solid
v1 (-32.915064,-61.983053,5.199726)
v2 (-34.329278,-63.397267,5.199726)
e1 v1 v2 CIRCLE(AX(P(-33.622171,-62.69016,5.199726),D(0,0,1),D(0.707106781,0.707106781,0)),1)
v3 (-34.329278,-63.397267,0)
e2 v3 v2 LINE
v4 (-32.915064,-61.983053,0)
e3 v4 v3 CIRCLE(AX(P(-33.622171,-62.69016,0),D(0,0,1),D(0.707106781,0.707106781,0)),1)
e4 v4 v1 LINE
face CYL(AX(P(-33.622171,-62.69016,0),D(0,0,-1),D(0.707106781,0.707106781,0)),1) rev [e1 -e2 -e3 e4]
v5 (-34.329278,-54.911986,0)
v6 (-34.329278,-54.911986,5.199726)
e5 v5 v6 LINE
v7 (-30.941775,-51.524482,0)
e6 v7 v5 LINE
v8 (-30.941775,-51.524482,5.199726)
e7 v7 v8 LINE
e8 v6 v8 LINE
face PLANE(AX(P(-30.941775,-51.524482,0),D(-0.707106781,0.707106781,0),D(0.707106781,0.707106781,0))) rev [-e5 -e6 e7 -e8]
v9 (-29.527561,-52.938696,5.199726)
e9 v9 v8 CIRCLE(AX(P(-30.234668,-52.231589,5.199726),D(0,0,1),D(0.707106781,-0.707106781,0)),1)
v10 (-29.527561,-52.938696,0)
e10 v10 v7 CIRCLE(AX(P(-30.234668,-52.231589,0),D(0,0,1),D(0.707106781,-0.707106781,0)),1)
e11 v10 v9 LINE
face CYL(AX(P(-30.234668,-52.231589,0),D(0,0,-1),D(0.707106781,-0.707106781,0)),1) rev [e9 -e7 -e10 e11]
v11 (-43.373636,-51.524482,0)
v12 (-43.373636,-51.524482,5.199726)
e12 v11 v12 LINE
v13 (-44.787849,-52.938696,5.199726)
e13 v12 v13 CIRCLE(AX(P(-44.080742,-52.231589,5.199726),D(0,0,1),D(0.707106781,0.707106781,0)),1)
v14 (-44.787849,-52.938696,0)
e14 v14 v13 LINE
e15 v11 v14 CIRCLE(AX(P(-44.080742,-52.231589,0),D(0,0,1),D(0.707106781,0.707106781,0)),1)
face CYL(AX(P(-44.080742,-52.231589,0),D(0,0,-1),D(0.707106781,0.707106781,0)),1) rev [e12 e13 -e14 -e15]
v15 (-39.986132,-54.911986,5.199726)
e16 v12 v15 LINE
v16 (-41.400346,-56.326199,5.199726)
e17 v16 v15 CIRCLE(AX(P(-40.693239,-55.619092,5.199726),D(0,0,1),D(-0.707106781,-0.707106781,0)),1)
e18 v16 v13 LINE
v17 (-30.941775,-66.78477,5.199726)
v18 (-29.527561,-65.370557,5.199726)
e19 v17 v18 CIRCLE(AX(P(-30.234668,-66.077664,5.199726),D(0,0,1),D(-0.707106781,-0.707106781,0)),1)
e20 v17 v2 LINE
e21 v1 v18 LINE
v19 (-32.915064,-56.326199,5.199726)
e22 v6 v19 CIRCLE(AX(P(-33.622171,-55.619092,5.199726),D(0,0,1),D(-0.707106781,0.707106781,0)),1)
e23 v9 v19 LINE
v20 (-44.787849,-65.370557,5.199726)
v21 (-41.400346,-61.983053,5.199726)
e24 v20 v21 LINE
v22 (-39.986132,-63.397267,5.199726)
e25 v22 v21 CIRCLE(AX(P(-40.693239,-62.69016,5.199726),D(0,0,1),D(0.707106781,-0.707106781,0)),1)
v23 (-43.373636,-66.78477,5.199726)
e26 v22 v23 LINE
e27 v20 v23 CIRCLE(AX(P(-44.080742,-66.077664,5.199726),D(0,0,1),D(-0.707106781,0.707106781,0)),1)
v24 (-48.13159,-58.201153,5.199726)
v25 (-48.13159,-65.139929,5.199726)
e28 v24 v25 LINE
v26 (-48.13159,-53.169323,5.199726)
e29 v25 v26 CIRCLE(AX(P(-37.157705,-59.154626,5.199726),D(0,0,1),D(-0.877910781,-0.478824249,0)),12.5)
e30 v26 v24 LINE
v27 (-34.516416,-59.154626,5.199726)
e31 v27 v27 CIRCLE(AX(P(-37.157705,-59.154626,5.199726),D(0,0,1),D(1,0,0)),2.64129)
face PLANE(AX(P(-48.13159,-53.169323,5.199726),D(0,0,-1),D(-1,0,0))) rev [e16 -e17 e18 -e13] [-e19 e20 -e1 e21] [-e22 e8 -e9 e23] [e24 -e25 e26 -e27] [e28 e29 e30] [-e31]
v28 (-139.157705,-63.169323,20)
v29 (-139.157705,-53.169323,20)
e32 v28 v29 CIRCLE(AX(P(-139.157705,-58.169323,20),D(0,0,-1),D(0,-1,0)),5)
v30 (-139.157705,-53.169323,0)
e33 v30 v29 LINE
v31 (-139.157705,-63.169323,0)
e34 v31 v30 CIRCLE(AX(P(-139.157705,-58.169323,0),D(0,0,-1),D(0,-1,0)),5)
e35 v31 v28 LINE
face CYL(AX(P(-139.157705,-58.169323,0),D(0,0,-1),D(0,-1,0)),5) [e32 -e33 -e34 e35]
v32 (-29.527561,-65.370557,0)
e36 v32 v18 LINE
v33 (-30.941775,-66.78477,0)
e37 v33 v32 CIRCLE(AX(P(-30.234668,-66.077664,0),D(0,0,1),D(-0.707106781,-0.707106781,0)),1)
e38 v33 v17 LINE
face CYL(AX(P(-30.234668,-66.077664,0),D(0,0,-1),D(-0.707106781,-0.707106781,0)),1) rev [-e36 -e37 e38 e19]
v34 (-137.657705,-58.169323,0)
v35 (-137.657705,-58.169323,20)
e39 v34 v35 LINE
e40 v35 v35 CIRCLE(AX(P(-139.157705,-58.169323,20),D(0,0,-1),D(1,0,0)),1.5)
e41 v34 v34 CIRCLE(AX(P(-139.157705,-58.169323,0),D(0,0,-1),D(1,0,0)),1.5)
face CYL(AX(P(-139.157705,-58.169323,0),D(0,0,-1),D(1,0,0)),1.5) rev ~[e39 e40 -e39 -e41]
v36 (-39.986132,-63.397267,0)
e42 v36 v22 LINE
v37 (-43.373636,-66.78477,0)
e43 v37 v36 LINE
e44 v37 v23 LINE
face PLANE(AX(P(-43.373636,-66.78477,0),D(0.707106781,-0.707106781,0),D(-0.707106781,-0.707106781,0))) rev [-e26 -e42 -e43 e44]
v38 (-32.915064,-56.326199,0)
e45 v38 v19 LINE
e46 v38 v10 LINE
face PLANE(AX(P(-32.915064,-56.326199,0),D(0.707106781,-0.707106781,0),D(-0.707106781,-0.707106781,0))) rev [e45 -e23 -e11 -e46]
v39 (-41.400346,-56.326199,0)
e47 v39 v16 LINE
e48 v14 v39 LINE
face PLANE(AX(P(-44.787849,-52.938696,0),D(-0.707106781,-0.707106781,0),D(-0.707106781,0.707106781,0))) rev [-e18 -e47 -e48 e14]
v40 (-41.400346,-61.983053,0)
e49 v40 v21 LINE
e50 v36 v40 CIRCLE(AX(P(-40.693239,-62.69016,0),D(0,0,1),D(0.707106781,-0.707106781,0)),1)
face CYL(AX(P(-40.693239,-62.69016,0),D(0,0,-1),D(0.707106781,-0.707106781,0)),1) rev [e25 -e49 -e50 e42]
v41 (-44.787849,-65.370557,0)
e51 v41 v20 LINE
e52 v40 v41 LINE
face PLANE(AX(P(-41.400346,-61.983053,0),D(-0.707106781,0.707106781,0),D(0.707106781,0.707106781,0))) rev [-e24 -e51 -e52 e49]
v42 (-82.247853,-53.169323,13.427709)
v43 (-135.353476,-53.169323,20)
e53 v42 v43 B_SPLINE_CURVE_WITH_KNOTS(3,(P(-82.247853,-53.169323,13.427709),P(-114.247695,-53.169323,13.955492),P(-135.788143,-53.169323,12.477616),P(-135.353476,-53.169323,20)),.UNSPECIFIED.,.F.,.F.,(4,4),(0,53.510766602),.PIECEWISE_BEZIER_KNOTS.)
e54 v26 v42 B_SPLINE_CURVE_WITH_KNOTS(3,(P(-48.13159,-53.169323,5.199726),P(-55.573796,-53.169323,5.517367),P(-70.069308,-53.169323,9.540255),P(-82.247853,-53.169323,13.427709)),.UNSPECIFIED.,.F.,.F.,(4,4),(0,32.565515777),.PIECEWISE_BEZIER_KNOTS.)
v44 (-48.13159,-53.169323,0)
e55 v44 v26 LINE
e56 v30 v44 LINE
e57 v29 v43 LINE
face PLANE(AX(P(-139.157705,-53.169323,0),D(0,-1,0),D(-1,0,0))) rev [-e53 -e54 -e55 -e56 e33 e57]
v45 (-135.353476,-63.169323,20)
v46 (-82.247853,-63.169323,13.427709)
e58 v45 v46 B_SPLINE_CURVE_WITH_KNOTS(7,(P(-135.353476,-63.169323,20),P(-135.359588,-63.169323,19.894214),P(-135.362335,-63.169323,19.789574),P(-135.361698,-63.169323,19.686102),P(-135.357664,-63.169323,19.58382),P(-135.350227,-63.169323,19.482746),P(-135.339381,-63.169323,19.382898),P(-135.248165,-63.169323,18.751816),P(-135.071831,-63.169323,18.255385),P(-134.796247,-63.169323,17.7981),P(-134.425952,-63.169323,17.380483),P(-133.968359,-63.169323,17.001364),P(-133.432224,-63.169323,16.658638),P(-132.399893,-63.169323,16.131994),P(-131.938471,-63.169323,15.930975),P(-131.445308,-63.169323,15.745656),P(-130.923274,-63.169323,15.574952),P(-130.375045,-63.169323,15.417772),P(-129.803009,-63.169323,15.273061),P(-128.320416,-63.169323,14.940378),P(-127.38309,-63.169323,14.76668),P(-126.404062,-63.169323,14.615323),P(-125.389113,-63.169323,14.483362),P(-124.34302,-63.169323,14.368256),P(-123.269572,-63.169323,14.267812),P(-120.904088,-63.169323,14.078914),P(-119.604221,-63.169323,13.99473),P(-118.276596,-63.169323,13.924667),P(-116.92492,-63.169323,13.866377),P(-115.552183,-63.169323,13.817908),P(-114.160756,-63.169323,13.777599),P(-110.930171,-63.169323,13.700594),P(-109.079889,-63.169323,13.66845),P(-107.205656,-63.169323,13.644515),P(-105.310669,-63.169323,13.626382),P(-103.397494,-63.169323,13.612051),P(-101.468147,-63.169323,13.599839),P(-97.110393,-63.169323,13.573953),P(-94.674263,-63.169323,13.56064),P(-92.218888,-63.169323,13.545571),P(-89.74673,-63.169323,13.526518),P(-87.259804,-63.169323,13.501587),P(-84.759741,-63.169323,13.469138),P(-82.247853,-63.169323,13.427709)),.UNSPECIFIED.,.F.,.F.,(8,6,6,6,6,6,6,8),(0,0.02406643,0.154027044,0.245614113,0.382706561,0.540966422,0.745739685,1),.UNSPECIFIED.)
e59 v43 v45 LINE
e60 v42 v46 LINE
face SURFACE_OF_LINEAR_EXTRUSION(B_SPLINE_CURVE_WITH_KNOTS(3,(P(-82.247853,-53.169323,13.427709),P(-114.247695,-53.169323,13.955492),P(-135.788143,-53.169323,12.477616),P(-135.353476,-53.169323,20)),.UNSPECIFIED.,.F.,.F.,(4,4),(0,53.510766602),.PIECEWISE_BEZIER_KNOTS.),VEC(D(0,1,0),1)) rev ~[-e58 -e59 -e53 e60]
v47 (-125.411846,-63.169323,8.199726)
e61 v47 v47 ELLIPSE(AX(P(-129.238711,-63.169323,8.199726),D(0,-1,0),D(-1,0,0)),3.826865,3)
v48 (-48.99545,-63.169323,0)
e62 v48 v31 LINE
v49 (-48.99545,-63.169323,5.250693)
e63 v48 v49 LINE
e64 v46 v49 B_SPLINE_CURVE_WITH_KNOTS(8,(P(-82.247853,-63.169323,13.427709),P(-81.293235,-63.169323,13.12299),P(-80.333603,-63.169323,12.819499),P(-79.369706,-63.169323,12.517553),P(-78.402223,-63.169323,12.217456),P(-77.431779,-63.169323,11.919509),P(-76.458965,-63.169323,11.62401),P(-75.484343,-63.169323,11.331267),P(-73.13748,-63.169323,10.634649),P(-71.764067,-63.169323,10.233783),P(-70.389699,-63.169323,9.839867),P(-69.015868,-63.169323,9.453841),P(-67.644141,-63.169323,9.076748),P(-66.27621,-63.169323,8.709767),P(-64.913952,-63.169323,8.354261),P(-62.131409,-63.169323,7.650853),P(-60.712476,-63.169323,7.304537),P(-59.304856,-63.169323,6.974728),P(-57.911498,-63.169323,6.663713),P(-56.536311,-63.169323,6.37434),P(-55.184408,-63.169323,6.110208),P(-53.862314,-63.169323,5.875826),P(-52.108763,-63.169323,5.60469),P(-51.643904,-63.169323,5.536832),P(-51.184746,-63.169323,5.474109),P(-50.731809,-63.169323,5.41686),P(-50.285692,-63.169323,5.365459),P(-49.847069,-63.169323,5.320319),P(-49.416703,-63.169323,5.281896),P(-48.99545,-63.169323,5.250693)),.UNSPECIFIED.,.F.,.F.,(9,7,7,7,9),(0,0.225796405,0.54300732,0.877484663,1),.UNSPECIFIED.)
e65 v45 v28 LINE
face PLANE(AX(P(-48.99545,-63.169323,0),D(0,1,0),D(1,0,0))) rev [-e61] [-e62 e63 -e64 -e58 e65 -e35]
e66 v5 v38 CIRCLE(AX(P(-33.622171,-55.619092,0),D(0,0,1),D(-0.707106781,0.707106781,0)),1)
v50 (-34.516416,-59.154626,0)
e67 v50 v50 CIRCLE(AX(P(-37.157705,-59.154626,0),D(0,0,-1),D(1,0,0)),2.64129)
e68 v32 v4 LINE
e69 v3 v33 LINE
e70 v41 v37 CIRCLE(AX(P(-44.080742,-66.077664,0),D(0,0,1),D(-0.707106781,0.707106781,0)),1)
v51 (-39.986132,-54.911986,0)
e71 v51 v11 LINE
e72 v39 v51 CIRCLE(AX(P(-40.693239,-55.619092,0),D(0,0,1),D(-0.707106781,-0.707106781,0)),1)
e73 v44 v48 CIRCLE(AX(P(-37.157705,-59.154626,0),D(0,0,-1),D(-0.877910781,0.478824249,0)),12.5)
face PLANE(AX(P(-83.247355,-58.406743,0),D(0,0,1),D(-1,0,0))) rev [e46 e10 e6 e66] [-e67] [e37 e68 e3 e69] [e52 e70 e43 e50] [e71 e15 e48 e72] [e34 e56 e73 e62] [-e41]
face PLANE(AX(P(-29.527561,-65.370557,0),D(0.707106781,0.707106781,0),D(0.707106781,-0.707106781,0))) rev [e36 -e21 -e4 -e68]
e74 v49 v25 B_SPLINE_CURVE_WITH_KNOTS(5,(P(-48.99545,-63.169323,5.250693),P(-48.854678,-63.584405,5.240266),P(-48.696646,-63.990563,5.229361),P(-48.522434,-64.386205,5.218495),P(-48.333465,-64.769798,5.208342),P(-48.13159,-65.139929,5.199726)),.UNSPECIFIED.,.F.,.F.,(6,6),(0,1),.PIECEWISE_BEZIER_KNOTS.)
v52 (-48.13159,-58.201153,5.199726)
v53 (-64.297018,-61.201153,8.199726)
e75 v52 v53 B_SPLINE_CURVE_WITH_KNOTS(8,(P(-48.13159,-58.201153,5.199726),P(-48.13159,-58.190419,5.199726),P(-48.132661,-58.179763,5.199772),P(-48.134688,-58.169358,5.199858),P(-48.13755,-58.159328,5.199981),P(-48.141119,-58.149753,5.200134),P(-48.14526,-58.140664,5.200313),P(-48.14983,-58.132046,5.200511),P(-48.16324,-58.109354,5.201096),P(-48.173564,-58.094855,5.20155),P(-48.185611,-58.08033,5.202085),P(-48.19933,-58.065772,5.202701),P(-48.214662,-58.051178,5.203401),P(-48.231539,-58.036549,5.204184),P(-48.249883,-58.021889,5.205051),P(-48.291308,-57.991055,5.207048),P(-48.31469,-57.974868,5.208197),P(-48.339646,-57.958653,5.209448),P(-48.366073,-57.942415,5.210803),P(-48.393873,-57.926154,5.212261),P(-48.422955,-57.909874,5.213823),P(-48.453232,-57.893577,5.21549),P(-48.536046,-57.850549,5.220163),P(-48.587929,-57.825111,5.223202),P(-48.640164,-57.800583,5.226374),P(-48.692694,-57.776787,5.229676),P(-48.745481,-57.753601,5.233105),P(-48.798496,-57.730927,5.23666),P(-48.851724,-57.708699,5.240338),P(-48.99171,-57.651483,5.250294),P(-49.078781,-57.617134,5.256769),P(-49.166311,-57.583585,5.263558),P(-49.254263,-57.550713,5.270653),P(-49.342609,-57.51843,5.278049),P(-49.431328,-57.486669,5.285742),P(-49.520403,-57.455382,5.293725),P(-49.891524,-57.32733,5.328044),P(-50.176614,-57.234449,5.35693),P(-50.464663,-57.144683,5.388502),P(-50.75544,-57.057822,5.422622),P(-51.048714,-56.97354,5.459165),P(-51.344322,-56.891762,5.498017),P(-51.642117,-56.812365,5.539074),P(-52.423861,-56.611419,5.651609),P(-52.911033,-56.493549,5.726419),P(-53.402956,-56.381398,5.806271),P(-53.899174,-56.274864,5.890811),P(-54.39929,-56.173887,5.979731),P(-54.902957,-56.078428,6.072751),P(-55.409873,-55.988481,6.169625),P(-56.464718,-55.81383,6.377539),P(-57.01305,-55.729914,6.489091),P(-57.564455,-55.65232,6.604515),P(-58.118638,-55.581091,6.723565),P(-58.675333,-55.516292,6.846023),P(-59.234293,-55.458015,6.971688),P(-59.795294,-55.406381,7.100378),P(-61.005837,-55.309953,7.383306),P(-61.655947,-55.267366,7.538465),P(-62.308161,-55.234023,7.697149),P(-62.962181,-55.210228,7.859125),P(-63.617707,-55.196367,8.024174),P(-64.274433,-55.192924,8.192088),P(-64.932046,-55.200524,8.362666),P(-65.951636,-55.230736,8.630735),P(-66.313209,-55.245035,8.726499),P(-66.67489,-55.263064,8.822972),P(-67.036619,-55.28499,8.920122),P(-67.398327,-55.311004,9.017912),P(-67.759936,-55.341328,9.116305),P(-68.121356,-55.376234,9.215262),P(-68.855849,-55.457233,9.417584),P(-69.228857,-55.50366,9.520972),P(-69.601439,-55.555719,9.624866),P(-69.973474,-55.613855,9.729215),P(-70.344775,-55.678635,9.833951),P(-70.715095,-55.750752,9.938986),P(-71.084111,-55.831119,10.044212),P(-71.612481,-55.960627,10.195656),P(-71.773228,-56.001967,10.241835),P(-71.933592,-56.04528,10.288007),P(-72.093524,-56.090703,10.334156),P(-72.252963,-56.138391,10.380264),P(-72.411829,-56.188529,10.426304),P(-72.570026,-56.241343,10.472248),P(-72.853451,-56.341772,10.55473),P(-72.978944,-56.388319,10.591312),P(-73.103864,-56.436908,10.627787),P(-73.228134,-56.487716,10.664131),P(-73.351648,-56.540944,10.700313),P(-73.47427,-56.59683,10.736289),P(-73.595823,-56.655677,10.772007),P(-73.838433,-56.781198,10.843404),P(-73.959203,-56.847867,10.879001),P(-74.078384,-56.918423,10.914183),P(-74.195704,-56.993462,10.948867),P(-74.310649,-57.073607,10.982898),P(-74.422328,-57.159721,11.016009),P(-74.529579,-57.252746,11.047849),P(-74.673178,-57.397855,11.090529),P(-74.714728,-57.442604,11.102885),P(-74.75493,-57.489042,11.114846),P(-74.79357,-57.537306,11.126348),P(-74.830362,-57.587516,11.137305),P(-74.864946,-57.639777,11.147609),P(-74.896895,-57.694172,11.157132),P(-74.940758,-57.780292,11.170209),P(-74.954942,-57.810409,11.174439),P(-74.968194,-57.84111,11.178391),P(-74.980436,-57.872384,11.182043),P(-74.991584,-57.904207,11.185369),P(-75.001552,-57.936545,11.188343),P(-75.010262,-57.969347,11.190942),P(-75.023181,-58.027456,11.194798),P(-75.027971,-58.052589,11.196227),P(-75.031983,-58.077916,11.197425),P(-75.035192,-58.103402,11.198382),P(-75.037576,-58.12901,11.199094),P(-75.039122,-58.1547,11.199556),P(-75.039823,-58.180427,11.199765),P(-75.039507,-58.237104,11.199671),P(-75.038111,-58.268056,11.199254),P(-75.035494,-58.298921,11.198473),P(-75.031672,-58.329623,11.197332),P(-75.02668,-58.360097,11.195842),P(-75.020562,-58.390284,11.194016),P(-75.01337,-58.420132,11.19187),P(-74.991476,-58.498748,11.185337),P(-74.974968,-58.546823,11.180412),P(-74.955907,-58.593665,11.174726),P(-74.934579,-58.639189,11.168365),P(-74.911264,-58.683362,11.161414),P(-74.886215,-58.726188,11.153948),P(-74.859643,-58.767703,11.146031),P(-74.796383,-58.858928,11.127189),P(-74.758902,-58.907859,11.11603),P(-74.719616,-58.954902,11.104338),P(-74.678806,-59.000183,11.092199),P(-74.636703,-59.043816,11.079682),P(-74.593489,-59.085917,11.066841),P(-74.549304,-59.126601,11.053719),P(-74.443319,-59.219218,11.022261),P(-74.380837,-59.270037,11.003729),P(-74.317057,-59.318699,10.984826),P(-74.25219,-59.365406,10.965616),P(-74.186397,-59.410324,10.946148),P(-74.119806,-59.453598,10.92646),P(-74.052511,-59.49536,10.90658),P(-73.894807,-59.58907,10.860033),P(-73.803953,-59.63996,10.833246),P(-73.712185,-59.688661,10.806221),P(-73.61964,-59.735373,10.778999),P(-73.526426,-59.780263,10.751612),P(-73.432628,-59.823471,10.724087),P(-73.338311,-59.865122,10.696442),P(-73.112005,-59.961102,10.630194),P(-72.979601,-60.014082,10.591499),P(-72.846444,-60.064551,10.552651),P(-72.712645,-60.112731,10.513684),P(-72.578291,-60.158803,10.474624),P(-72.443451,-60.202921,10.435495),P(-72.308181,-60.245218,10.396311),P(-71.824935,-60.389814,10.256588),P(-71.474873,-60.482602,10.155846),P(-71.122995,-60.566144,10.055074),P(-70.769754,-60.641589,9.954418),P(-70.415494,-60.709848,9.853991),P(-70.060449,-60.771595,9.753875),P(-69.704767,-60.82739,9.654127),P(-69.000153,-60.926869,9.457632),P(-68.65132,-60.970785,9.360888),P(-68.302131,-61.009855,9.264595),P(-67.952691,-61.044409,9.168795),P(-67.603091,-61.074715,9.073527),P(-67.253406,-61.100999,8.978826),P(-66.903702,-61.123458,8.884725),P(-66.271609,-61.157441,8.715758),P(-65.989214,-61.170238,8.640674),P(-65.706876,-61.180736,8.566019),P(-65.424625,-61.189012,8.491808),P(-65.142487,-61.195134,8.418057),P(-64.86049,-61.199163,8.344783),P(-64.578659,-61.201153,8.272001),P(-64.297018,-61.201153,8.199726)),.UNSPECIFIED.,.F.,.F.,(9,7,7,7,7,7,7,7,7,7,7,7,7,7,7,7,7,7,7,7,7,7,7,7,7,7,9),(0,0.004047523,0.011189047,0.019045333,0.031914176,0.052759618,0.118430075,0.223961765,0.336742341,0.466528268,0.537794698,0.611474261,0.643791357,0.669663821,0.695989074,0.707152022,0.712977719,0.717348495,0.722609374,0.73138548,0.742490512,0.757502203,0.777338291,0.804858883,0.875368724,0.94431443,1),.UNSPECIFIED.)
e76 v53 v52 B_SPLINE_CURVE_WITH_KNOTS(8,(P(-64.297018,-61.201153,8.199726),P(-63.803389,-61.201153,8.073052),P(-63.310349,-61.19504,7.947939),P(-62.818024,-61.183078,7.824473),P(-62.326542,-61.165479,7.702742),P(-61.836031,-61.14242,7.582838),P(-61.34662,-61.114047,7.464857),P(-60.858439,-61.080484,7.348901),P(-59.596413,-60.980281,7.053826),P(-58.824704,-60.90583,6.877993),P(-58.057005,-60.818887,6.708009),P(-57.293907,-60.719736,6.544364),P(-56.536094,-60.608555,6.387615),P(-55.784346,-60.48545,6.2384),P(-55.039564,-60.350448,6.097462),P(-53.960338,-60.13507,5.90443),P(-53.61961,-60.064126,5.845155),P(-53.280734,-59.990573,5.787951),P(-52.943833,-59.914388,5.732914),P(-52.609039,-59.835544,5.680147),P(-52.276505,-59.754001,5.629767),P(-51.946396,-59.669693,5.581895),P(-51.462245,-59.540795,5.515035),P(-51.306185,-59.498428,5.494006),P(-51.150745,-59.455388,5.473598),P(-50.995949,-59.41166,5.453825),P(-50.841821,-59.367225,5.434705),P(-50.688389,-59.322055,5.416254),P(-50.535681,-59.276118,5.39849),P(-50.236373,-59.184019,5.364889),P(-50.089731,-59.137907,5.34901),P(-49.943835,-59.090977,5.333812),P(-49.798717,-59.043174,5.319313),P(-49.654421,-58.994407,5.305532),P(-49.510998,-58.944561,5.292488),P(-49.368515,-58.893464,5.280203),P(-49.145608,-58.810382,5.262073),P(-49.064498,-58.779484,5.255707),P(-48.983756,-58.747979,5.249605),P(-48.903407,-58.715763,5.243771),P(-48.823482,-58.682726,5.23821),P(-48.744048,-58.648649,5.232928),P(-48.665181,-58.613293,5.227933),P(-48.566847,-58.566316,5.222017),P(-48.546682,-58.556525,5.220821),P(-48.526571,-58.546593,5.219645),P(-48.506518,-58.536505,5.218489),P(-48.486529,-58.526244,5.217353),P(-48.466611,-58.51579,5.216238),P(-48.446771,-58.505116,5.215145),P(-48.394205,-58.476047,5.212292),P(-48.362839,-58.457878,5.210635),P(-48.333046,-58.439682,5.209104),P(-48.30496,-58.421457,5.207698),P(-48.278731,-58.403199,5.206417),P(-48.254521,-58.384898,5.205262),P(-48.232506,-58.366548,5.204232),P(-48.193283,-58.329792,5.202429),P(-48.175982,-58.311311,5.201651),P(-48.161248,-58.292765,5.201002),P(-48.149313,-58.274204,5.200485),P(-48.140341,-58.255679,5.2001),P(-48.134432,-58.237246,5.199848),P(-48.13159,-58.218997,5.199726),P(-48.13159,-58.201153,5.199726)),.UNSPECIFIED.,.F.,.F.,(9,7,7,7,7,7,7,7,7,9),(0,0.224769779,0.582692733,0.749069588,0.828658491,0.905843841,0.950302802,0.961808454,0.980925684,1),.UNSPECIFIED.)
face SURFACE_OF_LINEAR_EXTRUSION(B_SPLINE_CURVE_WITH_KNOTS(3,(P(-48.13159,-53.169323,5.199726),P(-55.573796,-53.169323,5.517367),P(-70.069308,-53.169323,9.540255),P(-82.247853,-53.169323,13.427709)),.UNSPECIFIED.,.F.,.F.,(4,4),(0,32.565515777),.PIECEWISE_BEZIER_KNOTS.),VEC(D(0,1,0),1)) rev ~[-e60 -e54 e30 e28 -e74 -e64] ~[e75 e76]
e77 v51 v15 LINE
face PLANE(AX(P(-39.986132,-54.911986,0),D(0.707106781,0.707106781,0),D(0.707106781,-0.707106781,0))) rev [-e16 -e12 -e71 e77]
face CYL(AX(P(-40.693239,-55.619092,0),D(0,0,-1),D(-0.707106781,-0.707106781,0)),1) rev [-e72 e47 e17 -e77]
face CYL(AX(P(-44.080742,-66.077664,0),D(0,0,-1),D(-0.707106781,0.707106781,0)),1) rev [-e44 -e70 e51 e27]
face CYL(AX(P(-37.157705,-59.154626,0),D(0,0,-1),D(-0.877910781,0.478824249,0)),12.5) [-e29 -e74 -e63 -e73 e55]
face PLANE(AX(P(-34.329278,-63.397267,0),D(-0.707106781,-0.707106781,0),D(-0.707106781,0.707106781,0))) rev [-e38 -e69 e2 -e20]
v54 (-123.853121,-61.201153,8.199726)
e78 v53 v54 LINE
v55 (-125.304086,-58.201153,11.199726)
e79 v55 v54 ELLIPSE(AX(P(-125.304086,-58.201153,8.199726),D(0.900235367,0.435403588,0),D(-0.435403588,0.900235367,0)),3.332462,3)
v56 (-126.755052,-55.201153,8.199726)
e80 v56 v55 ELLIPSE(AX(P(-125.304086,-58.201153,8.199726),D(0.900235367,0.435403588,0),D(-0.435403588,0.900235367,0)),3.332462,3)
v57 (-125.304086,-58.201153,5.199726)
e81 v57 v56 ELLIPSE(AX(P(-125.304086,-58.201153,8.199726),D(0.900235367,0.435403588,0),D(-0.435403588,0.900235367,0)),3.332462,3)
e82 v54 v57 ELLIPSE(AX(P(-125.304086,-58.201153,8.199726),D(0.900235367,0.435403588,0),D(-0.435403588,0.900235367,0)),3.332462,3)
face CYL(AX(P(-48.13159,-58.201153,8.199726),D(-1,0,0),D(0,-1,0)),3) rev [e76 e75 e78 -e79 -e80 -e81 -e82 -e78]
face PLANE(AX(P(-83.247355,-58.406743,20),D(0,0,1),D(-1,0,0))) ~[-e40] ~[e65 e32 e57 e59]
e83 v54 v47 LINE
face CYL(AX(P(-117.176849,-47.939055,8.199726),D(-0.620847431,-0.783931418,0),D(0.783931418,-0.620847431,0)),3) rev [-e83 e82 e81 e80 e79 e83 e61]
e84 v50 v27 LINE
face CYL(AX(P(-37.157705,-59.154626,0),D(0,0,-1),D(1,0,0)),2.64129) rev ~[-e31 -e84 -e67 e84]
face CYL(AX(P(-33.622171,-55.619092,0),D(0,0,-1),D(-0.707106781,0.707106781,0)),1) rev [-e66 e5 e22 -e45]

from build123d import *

# Parameters (mm, degrees)
F0_R          = 1.5
F0_R_2        = 2.6412895019
F1_DEPTH      = 20
F3_DEPTH      = 25
F3_DEPTH_BACK = 25
F6_R          = 3
F9_DEPTH      = 25
F11_W         = 149.615544593
F11_H         = 119.6888182312
F12_DEPTH     = 25


with BuildPart() as f1:
    # F0 (on Top) → F1 (new body)
    with BuildSketch(Plane.XY):
        with BuildLine():
            Line((-139.1577050821, 53.1693232265), (-48.1315898414, 53.1693232265))
            ThreePointArc((-48.1315898414, 53.1693232265), (-24.7040865671, 60.2304450376), (-48.9954501741, 63.1693232265))
            Line((-48.9954501741, 63.1693232265), (-139.1577050821, 63.1693232265))
            ThreePointArc((-139.1577050821, 63.1693232265), (-144.1577050821, 58.1693232265), (-139.1577050821, 53.1693232265))
        make_face()
        with Locations((-139.1577050821, 58.1693232265)):
            Circle(F0_R, mode=Mode.SUBTRACT)
        with BuildLine():
            ThreePointArc((-43.3736355328, 51.5244823211), (-44.7878490952, 51.5244823211), (-44.7878490952, 52.9386958835))
            Line((-44.7878490952, 52.9386958835), (-41.4003457692, 56.3261992095))
            ThreePointArc((-41.4003457692, 56.3261992095), (-39.9861322069, 56.3261992095), (-39.9861322069, 54.9119856471))
            Line((-39.9861322069, 54.9119856471), (-43.3736355328, 51.5244823211))
        make_face(mode=Mode.SUBTRACT)
        with BuildLine():
            ThreePointArc((-29.527561069, 52.9386958835), (-29.527561069, 51.5244823211), (-30.9417746314, 51.5244823211))
            Line((-30.9417746314, 51.5244823211), (-34.3292779574, 54.9119856471))
            ThreePointArc((-34.3292779574, 54.9119856471), (-34.3292779574, 56.3261992095), (-32.915064395, 56.3261992095))
            Line((-32.915064395, 56.3261992095), (-29.527561069, 52.9386958835))
        make_face(mode=Mode.SUBTRACT)
        with Locations((-37.1577050821, 59.1546263342)):
            Circle(F0_R_2, mode=Mode.SUBTRACT)
        with BuildLine():
            Line((-41.4003457692, 61.9830534589), (-44.7878490952, 65.3705567849))
            ThreePointArc((-44.7878490952, 65.3705567849), (-44.7878490952, 66.7847703473), (-43.3736355328, 66.7847703473))
            Line((-43.3736355328, 66.7847703473), (-39.9861322069, 63.3972670213))
            ThreePointArc((-39.9861322069, 63.3972670213), (-39.9861322069, 61.9830534589), (-41.4003457692, 61.9830534589))
        make_face(mode=Mode.SUBTRACT)
        with BuildLine():
            ThreePointArc((-30.9417746314, 66.7847703473), (-29.527561069, 66.7847703473), (-29.527561069, 65.3705567849))
            Line((-29.527561069, 65.3705567849), (-32.915064395, 61.983053459))
            ThreePointArc((-32.915064395, 61.9830534589), (-34.3292779574, 61.9830534589), (-34.3292779574, 63.3972670213))
            Line((-34.3292779574, 63.3972670213), (-30.9417746314, 66.7847703473))
        make_face(mode=Mode.SUBTRACT)
    extrude(amount=F1_DEPTH)

    # F2 (on face) → F3 (cut, two sides)
    with BuildSketch(Plane.XZ.offset(-53.1693232265)) as f3_sk:
        with BuildLine():
            add(Edge.make_bspline(
                [(-48.1315898414, 5.1997262053), (-55.5737955735, 5.517366778), (-70.0693075174, 9.5402547737), (-82.2478533544, 13.4277092293)],
                knots=[0, 0, 0, 0, 32.5655157772, 32.5655157772, 32.5655157772, 32.5655157772], degree=3))
            Line((-48.1315898414, 5.1997262053), (66.0970867342, 5.1997262053))
            Line((66.0970867342, 5.1997262053), (64.3360104363, 23.0218202323))
            Line((64.3360104363, 23.0218202323), (-14.16737711, 23.9689107984))
            Line((-14.16737711, 23.9689107984), (-21.0809869127, 20))
            Line((-21.0809869127, 20), (-48.1315898414, 24.3437178433))
            Line((-48.1315898414, 24.3437178433), (-48.1315898414, 13.4277092293))
            Line((-48.1315898414, 13.4277092293), (-82.2478533544, 13.4277092293))
        make_face()
    extrude(amount=-F3_DEPTH, mode=Mode.SUBTRACT)
    extrude(f3_sk.sketch, amount=F3_DEPTH_BACK, mode=Mode.SUBTRACT)

    # F7: sweep along a path in F4
    with BuildLine(Plane.XY.offset(5.1997262053)) as f7_path:
        Line((-61.2067505717, 58.1693232265), (-86.7135846391, 58.1693232265))
        Line((-86.7135846391, 58.1693232265), (-125.319480896, 58.1693232265))
        Line((-125.319480896, 58.1693232265), (-138.9607042074, 75.3938183188))
    # F6 (on face) → F7 (sweep, cut)
    with BuildSketch(Plane.YZ.offset(-48.1315898414)):
        with Locations((58.2011528313, 8.1997262053)):
            Circle(F6_R)
    sweep(path=f7_path.line, transition=Transition.RIGHT, mode=Mode.SUBTRACT)

    # F8 (on face) → F9 (cut)
    with BuildSketch(Plane.XZ.offset(-53.1693232265)):
        with BuildLine():
            add(Edge.make_bspline(
                [(-82.2478533544, 13.4277092293), (-114.2476946115, 13.955491595), (-135.7881426811, 12.4776158482), (-135.3534758091, 20)],
                knots=[0, 0, 0, 0, 53.5107666015, 53.5107666015, 53.5107666015, 53.5107666015], degree=3))
            Line((-82.2478533544, 13.4277092293), (-32.9686515033, 11.7128845304))
            Line((-32.9686515033, 11.7128845304), (-32.9686515033, 37.384595722))
            Line((-32.9686515033, 37.384595722), (-135.3534758091, 20))
        make_face()
    extrude(amount=-F9_DEPTH, mode=Mode.SUBTRACT)


with BuildPart() as f10_1:
    # F10: instance of F1
    add(f1.part.mirror(Plane.XZ))


with BuildPart() as f1_1:
    add(f1.part)

    # F11 (on face) → F12 (cut)
    with BuildSketch(Plane.XY.offset(20)):
        with Locations((-77.5791165652, 71.9989491627)):
            Rectangle(F11_W, F11_H)
    extrude(amount=-F12_DEPTH, mode=Mode.SUBTRACT)


solid = f10_1.part
